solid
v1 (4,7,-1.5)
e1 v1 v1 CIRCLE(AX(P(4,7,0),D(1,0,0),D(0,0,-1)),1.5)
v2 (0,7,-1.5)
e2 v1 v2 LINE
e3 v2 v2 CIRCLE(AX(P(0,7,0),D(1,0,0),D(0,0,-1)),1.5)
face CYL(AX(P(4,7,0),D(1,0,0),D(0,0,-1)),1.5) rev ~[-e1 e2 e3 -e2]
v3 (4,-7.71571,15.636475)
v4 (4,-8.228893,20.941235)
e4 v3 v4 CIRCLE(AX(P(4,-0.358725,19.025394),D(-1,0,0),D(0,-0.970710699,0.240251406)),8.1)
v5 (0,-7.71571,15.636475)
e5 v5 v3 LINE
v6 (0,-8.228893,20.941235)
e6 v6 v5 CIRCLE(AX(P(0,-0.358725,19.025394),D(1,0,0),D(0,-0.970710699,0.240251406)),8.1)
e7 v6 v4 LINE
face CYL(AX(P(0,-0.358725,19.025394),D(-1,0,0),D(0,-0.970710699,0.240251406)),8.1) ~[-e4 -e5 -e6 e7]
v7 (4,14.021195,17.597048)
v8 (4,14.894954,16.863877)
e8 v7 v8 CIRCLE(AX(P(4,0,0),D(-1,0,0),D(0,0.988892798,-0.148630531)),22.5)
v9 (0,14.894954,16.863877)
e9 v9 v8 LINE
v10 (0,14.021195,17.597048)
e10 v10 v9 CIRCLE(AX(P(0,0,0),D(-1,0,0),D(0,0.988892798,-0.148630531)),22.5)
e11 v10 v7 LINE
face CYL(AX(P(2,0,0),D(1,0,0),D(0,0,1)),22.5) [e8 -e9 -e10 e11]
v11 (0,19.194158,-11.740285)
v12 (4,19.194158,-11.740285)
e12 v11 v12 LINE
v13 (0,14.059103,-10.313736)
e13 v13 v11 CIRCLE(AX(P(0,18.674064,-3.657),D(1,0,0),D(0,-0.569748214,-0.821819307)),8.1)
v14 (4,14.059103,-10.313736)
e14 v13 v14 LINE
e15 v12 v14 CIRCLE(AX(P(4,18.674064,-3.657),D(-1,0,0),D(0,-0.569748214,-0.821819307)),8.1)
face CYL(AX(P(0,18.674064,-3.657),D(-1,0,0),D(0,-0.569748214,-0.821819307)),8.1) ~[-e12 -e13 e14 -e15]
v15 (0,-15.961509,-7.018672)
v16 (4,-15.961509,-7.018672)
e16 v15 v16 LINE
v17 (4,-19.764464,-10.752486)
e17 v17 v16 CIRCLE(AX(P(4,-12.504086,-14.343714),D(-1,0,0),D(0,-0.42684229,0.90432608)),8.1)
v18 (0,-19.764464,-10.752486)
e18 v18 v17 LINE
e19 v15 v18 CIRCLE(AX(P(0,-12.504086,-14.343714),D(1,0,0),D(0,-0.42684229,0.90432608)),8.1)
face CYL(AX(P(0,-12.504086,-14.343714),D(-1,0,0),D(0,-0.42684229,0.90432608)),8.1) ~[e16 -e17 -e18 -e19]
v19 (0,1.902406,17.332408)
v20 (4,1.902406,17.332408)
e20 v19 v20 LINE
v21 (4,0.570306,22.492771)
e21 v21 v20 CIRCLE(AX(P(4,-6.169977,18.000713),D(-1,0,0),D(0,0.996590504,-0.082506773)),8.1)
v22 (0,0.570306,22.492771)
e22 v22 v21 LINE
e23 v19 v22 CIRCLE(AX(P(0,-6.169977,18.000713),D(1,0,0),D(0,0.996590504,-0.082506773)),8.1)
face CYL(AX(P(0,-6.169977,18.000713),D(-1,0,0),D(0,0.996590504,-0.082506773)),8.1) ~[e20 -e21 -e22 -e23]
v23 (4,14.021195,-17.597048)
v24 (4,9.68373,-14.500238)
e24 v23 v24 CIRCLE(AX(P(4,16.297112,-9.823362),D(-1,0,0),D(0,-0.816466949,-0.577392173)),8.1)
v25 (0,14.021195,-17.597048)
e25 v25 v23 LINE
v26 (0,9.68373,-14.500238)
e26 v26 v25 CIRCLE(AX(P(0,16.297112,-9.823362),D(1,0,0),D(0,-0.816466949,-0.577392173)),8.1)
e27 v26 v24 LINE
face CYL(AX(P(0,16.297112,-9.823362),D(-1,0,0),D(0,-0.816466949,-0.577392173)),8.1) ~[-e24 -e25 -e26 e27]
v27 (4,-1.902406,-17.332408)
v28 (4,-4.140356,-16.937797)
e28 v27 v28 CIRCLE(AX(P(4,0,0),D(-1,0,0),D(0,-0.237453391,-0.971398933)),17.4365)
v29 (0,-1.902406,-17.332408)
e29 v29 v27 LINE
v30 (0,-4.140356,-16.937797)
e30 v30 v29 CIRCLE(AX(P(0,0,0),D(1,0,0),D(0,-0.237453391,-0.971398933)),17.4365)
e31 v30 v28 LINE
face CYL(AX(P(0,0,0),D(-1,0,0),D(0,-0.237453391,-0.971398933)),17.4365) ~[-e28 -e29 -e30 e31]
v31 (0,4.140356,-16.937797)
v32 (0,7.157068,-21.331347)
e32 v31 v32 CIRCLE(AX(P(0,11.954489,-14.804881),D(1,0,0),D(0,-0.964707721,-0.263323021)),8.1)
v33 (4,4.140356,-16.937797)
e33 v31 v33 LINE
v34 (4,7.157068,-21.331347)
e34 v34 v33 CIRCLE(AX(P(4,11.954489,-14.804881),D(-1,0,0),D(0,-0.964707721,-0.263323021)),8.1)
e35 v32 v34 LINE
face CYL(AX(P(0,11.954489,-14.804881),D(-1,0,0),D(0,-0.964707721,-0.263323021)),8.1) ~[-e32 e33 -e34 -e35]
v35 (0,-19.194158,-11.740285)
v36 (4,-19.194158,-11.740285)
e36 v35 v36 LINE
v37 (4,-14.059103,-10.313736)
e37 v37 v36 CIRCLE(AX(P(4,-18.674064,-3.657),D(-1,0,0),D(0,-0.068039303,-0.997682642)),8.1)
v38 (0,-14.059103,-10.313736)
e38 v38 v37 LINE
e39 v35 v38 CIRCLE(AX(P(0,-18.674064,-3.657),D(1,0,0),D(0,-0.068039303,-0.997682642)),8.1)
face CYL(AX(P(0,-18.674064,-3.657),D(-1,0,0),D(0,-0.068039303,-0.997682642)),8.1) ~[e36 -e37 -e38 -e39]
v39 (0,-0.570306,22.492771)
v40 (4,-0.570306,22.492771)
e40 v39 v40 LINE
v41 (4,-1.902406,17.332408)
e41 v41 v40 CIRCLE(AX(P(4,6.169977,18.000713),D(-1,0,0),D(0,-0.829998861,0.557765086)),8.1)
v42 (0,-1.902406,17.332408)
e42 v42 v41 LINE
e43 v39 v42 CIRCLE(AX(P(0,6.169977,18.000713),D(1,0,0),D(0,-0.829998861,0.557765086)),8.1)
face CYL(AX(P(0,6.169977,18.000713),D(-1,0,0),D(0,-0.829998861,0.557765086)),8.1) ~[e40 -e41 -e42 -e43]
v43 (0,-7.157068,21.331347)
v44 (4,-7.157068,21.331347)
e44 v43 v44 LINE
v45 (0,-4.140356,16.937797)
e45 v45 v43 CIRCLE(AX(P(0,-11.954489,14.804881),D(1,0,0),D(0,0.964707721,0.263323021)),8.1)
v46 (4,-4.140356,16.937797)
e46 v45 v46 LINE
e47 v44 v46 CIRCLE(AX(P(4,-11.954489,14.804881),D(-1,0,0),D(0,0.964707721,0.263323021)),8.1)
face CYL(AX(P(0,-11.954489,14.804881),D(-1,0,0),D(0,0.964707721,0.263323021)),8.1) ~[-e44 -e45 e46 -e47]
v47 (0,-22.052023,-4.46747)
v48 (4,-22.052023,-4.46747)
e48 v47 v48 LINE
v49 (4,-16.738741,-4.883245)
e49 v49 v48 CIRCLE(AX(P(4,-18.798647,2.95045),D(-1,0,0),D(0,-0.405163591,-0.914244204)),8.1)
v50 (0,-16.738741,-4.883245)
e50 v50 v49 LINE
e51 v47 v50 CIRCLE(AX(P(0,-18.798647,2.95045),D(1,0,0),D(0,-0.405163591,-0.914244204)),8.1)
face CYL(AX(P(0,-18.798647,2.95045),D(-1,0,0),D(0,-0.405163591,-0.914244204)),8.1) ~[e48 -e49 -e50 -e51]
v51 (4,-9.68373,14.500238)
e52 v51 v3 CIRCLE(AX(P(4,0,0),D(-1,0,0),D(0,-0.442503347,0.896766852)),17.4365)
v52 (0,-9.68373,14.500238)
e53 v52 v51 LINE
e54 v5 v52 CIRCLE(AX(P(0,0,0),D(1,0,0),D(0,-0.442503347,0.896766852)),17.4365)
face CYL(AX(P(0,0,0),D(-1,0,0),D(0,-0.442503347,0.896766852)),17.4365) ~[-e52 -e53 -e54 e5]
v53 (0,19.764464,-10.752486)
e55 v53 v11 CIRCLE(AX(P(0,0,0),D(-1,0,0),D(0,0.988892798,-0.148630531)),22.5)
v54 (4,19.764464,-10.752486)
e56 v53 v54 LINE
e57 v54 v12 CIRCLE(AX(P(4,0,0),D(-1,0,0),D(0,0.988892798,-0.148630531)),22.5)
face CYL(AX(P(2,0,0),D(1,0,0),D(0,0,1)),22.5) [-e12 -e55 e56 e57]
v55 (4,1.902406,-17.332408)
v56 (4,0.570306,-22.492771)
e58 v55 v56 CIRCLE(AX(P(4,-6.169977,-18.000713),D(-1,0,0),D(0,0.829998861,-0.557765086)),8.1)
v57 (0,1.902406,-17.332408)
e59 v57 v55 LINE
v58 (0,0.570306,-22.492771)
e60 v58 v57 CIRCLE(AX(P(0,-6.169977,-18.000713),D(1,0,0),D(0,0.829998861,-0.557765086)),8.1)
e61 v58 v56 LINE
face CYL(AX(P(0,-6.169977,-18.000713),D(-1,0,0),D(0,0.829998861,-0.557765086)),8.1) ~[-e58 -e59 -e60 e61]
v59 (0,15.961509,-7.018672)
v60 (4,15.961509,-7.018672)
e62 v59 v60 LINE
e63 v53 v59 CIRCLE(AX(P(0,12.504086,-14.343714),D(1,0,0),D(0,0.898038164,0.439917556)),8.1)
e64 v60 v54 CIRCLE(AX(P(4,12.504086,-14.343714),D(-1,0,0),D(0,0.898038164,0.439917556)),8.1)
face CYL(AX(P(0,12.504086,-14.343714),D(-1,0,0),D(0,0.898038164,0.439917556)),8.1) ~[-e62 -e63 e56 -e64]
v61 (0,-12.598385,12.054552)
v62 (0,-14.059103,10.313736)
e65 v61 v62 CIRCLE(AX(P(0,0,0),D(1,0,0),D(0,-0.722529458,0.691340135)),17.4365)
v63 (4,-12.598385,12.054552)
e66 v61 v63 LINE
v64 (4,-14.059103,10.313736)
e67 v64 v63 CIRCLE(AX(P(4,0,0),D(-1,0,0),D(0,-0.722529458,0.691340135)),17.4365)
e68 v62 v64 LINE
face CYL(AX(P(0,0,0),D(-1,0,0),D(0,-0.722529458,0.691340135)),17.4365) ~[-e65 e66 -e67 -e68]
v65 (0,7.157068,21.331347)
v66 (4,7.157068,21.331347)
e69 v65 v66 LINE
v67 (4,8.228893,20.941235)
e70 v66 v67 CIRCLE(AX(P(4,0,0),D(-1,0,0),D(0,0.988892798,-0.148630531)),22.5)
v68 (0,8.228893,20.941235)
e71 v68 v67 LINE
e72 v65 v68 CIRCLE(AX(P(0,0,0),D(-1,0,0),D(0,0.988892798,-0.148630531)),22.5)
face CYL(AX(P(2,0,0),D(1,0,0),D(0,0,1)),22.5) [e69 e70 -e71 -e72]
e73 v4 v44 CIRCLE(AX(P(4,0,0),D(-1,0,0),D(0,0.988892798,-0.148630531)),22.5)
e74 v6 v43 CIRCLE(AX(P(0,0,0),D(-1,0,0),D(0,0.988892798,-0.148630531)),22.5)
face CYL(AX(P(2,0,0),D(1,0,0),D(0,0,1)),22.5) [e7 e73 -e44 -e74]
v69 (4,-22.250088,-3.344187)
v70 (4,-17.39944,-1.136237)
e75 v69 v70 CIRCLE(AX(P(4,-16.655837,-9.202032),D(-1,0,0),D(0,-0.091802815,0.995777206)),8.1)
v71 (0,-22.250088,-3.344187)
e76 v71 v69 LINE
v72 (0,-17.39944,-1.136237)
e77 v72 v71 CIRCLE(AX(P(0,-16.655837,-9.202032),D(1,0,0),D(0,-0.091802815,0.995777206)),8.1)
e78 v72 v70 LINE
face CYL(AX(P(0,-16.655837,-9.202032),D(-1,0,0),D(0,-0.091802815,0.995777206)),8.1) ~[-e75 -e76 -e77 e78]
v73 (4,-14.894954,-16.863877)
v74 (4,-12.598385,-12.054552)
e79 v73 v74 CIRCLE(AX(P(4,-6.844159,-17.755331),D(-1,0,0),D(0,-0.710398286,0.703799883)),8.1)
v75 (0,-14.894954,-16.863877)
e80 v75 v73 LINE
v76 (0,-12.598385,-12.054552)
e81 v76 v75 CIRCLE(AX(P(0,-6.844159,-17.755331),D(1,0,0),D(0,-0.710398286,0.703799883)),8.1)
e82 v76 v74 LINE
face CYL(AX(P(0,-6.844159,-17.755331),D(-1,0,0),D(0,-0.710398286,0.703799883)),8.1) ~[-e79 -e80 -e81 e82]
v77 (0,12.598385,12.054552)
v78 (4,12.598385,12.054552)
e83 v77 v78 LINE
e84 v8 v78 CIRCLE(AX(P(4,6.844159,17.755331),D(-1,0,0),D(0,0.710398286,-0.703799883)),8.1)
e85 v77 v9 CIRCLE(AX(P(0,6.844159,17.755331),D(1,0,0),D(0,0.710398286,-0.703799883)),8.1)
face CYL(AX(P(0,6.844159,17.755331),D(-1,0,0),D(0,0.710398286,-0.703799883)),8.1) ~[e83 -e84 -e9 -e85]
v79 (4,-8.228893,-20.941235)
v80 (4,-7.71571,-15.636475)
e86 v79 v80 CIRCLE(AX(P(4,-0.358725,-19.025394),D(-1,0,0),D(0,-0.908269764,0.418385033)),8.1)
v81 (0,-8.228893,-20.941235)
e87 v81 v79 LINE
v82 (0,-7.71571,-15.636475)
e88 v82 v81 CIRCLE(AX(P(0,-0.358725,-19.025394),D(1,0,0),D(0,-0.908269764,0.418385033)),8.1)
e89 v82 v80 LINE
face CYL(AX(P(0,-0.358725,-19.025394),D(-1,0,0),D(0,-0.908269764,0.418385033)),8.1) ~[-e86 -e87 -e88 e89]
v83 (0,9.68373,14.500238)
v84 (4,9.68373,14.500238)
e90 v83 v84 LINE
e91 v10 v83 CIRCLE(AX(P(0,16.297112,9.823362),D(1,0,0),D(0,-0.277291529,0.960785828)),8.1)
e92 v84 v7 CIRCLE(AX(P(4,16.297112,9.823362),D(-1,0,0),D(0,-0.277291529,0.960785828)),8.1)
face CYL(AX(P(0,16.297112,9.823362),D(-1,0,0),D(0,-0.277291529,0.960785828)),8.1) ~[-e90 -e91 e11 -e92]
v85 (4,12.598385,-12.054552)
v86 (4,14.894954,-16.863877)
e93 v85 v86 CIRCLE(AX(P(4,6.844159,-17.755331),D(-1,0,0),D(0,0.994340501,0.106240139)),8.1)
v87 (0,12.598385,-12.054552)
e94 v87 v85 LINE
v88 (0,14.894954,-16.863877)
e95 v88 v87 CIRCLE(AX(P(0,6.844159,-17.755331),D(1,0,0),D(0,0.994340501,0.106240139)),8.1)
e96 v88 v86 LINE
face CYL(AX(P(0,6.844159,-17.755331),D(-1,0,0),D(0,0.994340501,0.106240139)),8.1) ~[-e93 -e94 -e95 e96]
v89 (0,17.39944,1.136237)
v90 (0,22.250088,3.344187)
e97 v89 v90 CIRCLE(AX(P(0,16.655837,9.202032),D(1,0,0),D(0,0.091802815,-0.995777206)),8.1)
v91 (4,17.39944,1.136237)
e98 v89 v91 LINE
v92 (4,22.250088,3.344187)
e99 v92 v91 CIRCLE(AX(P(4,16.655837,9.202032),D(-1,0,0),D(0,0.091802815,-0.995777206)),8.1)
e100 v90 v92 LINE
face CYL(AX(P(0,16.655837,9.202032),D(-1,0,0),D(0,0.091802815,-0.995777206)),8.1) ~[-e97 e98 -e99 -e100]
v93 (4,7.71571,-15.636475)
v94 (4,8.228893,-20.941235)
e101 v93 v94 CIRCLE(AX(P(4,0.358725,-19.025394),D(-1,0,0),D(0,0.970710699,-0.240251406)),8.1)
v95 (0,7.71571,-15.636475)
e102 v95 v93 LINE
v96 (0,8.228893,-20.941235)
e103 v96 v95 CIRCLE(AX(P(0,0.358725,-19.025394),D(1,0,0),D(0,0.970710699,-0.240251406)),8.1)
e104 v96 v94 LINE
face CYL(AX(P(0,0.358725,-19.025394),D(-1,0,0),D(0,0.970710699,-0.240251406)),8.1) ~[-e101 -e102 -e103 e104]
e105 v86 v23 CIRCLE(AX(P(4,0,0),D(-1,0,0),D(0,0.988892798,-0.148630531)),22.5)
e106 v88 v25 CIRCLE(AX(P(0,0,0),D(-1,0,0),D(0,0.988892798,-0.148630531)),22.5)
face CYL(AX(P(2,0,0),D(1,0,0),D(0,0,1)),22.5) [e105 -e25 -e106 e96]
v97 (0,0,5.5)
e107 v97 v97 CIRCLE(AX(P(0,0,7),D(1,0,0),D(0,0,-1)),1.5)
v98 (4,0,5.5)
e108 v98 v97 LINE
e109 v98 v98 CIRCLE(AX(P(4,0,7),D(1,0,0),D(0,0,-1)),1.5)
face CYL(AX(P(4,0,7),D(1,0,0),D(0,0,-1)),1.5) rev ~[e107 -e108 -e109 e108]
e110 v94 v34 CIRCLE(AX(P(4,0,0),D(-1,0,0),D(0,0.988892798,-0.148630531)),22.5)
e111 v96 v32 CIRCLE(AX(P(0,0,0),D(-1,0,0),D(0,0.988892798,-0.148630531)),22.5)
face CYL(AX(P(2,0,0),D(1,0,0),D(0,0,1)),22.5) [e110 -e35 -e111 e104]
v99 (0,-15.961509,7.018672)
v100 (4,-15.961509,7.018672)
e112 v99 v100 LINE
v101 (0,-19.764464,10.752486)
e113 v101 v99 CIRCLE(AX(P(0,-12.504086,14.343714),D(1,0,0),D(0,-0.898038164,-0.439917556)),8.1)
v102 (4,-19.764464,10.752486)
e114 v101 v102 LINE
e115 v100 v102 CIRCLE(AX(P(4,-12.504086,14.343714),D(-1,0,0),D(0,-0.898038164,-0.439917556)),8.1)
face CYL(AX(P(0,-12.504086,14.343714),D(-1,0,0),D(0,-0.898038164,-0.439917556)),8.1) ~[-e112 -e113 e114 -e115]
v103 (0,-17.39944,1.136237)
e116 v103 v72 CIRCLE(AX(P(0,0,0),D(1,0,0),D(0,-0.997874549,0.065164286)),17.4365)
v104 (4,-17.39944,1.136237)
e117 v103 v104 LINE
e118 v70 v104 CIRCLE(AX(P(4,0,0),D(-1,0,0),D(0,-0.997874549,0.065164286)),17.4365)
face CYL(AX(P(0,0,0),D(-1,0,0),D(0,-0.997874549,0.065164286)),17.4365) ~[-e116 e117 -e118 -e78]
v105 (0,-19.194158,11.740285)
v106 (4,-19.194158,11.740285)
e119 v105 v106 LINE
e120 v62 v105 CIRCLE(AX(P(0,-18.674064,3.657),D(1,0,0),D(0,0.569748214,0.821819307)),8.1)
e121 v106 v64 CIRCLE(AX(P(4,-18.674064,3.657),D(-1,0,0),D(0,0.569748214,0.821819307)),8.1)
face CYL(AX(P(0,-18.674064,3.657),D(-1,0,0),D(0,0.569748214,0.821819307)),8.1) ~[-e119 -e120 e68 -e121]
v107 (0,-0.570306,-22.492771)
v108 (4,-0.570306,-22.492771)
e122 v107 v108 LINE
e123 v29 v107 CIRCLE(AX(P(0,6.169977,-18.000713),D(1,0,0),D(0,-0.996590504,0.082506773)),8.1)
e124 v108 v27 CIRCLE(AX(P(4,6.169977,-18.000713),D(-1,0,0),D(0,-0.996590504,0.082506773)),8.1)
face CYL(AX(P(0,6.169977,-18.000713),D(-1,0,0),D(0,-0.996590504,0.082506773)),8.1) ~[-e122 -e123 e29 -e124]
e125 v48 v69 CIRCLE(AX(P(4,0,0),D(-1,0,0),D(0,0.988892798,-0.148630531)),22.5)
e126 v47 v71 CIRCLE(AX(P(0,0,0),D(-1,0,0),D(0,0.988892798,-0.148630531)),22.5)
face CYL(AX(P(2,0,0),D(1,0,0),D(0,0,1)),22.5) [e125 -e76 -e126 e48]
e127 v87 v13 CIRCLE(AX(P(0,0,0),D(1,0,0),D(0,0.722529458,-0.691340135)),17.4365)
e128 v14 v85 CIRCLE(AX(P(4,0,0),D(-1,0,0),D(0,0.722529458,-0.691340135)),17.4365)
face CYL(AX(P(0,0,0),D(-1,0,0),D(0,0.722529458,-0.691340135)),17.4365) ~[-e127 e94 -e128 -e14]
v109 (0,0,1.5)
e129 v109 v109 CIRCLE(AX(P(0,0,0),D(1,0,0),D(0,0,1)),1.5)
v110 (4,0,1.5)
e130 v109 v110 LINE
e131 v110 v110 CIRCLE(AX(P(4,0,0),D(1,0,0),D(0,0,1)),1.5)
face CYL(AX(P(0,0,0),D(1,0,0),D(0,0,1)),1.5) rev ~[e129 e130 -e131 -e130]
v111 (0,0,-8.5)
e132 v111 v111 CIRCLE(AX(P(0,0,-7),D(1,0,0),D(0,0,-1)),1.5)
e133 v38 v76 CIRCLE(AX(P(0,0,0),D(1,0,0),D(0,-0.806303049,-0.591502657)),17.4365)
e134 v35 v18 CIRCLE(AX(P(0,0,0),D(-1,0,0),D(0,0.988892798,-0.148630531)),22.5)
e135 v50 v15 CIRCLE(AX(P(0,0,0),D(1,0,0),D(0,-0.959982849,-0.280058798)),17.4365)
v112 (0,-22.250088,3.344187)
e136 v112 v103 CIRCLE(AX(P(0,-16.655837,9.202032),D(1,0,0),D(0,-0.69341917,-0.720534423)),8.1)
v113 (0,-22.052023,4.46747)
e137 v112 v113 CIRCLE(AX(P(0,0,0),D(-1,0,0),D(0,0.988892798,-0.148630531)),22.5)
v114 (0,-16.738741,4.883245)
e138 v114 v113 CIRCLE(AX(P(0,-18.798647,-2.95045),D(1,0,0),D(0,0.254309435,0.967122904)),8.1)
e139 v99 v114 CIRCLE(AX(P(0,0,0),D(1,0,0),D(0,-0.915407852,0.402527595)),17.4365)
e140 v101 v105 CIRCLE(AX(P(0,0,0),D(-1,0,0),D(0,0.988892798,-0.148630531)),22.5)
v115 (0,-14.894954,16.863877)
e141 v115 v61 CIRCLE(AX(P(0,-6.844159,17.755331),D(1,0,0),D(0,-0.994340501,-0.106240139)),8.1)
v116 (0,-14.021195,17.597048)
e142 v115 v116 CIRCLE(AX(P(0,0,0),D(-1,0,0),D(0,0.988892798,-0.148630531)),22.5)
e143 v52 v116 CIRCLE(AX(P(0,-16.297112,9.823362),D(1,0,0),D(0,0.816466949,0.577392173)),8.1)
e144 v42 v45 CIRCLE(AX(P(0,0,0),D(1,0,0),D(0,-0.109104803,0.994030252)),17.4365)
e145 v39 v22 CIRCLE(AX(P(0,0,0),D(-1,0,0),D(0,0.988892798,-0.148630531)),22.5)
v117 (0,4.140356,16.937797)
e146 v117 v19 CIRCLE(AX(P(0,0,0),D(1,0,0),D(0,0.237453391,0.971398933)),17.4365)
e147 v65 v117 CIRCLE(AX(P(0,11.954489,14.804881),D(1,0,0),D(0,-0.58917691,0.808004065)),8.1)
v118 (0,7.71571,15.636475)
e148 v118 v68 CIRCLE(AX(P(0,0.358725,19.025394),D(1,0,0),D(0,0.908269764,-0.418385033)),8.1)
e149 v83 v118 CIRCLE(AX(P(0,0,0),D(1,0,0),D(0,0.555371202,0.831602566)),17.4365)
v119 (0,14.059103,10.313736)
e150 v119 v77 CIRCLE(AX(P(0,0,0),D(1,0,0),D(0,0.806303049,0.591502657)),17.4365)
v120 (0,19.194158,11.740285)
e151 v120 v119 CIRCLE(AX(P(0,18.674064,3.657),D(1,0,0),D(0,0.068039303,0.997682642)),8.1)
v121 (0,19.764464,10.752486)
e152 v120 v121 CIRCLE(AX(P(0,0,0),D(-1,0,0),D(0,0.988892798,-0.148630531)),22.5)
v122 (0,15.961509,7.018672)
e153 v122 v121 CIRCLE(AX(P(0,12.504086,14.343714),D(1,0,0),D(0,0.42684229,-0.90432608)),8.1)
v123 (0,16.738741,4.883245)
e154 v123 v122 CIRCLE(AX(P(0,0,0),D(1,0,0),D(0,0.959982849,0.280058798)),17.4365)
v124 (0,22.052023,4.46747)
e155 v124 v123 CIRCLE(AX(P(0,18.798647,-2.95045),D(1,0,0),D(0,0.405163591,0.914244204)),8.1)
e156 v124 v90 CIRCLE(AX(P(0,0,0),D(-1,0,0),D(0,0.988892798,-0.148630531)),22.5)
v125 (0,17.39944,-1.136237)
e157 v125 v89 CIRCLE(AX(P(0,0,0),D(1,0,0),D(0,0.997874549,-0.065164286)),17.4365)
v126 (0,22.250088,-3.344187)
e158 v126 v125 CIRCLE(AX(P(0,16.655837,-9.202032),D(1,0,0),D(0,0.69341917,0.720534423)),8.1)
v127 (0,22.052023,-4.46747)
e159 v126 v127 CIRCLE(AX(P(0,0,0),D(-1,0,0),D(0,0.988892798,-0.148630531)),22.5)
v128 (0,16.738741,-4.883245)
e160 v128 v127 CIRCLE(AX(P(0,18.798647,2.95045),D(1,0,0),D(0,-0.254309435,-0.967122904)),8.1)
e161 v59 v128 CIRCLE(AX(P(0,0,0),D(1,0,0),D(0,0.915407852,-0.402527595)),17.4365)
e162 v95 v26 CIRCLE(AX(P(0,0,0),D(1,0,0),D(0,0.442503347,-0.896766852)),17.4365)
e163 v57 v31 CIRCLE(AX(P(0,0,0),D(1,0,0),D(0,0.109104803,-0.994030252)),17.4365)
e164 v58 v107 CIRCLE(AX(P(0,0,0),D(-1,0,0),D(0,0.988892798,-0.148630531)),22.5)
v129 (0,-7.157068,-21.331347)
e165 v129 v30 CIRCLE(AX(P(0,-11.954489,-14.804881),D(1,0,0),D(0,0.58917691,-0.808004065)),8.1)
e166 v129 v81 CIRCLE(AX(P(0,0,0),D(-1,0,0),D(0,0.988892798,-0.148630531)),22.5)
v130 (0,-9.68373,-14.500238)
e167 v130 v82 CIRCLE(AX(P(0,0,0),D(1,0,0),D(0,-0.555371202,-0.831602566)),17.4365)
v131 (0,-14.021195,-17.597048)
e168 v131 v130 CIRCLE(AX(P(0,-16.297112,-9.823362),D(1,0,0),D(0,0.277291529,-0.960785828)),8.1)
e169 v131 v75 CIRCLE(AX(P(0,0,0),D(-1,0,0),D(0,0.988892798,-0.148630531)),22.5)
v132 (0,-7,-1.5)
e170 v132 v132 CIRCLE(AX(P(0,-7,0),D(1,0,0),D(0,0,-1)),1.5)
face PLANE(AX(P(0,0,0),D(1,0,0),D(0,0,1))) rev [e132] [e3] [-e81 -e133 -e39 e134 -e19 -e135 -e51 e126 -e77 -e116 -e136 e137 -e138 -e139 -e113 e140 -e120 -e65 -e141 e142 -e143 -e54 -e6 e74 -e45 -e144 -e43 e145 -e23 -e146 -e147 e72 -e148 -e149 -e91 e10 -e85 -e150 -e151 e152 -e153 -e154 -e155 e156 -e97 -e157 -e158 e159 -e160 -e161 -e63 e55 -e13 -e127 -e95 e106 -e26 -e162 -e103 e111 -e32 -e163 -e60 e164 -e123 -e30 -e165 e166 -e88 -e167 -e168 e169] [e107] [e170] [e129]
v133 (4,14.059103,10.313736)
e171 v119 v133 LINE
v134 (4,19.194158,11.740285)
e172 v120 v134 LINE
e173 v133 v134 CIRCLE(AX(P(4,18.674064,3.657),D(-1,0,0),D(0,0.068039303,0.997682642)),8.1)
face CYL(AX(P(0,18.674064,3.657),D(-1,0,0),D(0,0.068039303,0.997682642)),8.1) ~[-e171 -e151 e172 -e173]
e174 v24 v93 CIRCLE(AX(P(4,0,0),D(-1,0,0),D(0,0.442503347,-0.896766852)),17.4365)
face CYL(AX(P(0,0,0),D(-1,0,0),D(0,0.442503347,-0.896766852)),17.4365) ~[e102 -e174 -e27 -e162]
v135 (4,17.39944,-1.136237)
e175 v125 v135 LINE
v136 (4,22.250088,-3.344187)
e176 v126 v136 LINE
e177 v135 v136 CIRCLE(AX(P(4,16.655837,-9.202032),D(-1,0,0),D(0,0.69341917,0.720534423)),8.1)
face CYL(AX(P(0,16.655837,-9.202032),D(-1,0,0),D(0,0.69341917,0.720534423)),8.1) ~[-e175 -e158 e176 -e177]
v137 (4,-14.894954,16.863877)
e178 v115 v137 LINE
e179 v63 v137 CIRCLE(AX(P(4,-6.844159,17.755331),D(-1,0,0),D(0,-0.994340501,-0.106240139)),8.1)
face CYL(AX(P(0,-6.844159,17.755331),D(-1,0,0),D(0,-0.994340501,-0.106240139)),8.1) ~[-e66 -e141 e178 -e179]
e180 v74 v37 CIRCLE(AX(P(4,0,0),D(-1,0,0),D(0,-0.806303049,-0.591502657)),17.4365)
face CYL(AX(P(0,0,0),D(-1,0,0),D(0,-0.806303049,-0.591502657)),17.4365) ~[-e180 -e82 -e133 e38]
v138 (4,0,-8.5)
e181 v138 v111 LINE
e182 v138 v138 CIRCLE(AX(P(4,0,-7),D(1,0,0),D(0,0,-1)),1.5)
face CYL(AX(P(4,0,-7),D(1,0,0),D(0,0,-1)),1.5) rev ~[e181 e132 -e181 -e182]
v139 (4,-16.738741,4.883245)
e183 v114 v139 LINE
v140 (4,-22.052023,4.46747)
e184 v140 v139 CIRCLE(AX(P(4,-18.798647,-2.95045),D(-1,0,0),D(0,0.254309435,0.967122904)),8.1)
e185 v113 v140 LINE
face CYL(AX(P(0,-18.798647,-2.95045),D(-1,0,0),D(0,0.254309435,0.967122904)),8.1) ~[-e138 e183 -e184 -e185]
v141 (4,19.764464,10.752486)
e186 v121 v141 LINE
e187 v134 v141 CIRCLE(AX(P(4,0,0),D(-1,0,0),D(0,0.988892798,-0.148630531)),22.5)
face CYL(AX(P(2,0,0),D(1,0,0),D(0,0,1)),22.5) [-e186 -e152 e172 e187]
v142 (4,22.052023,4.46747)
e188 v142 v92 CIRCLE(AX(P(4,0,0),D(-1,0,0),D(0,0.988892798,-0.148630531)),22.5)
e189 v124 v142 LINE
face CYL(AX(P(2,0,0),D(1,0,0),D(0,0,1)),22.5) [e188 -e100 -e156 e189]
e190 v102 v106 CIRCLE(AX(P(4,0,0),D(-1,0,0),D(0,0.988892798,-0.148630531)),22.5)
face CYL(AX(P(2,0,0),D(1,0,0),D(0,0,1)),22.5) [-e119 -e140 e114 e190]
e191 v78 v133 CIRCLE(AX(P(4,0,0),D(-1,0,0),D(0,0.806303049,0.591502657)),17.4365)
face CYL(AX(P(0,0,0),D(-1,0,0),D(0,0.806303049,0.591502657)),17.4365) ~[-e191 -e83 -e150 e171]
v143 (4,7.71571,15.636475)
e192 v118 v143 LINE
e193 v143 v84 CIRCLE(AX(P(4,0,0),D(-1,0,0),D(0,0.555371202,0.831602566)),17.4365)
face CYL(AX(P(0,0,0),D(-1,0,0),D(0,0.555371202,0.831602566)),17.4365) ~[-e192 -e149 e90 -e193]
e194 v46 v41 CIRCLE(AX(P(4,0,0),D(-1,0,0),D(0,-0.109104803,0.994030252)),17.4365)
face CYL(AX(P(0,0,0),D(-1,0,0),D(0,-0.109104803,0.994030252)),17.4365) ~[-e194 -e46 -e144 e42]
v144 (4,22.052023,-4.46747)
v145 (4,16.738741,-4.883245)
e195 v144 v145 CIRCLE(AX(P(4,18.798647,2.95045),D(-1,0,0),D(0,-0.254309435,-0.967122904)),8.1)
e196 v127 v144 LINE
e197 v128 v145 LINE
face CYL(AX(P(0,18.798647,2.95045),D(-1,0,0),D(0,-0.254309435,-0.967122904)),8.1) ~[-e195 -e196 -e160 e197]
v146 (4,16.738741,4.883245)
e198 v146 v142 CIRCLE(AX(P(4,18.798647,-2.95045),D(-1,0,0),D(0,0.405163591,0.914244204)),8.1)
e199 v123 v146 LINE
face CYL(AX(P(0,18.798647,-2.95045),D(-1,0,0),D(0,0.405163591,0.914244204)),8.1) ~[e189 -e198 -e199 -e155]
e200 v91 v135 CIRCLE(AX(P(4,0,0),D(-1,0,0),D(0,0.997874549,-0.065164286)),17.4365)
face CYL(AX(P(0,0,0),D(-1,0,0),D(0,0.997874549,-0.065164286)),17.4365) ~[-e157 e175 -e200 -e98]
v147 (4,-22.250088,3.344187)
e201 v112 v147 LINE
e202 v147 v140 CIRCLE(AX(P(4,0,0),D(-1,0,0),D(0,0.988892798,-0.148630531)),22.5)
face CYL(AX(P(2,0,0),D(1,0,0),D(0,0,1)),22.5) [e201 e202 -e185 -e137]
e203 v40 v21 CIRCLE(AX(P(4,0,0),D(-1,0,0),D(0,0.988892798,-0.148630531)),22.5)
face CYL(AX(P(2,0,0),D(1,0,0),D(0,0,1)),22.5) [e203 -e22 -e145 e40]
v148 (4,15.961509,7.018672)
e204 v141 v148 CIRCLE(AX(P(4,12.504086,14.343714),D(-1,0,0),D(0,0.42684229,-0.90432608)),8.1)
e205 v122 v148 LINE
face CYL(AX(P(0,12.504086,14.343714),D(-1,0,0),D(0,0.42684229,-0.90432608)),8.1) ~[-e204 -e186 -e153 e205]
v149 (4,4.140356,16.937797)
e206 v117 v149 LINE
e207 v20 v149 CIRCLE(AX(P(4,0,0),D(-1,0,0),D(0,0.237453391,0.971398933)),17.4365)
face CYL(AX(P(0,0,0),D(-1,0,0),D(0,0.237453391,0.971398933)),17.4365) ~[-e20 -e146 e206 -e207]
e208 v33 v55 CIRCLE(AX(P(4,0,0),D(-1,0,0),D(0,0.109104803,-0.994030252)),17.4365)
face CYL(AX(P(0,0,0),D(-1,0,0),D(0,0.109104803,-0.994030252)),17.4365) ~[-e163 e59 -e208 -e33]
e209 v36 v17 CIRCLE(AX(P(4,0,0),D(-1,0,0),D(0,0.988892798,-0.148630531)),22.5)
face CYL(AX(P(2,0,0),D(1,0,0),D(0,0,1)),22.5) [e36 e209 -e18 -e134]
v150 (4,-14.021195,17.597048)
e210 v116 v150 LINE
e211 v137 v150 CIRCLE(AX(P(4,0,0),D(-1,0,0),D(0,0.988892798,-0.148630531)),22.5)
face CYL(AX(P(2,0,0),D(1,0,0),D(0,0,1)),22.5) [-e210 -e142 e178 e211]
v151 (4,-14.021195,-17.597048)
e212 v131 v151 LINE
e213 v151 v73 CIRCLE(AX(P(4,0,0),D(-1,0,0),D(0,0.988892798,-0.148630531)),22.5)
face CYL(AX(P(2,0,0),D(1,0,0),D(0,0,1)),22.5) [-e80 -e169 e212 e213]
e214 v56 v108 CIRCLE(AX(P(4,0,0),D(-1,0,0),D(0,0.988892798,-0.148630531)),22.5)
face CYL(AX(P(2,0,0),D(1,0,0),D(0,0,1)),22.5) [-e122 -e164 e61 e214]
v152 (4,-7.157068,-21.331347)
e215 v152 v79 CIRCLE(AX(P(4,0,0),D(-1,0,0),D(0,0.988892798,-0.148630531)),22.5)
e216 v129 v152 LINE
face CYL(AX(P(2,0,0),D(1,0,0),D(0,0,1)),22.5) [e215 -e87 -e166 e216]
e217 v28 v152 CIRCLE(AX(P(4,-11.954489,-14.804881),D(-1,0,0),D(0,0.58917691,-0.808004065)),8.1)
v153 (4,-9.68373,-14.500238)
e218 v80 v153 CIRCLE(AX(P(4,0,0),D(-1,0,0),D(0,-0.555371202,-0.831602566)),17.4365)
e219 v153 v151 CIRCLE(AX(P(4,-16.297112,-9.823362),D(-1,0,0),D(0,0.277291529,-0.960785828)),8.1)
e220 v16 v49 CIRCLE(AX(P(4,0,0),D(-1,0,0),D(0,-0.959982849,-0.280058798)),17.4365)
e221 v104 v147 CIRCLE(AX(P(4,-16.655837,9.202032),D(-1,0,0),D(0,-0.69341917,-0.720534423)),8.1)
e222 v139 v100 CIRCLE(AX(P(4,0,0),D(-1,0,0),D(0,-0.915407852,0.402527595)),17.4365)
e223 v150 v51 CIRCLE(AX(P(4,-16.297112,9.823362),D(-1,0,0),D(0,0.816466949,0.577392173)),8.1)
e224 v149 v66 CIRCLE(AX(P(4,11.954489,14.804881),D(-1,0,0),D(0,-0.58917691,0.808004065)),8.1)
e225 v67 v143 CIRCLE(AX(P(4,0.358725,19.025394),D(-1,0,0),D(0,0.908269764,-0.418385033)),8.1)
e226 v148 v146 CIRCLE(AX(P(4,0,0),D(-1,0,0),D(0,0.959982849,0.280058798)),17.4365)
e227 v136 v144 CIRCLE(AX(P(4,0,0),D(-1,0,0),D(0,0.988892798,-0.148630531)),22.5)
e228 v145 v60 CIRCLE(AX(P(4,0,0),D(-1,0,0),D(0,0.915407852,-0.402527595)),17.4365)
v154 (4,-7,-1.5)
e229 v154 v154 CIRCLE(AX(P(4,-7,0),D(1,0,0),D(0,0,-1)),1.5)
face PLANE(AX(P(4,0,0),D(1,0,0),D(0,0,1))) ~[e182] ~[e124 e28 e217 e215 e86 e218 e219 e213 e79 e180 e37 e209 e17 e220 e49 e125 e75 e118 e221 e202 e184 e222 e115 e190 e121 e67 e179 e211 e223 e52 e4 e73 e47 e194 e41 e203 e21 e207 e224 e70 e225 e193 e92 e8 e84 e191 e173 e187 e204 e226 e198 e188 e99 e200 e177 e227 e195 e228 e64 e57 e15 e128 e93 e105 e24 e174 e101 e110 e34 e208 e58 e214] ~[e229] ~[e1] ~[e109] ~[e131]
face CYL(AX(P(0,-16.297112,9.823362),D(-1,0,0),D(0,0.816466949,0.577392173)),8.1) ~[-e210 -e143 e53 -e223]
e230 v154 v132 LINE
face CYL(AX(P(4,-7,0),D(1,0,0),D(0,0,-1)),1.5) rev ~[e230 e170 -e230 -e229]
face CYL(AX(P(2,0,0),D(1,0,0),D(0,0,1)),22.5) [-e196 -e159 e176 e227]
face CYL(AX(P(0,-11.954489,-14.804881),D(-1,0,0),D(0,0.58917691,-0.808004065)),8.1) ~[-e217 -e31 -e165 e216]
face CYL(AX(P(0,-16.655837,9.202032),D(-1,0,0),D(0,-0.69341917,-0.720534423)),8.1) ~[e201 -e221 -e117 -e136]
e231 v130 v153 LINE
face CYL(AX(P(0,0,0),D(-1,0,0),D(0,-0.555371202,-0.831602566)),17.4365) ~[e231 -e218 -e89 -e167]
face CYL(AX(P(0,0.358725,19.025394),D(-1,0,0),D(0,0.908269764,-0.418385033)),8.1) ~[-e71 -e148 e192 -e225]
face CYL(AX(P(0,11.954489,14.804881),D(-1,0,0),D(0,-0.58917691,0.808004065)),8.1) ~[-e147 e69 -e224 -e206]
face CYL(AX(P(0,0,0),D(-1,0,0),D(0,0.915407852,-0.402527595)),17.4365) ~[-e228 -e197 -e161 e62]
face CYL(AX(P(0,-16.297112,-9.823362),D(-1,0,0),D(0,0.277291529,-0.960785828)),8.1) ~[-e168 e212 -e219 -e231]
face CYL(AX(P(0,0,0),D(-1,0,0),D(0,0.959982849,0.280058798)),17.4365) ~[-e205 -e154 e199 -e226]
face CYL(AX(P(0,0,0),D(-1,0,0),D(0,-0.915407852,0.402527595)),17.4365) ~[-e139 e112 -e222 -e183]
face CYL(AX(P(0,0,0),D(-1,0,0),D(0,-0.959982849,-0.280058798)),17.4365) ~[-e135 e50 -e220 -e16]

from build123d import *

# Parameters (mm, degrees)
BASPROSKE_W         = 4
BASPROSKE_H         = 22.5
TOOTHCUT_DEPTH      = 33.070235422
TEETHCUTS_COUNT     = 18
TEETHCUTS_ANGLE     = 340
BORSKE_R            = 1.5
BORE_DEPTH          = 50.0000508
SKETCH_1_R          = 1.5
CUT_EXTRUDE_1_DEPTH = 32.895398001


with BuildPart() as part:
    # BasProSke → Base-Revolve (revolve)
    with BuildSketch(Plane(origin=(0, 0, 0), x_dir=(1, 0, 0), z_dir=(0, 1, 0)), mode=Mode.PRIVATE) as base_revolve_sk:
        with Locations((2, 11.25)):
            Rectangle(BASPROSKE_W, BASPROSKE_H)
    revolve(base_revolve_sk.sketch.rotate(Axis((-10, 0, 0), (1, 0, 0)), 180), axis=Axis((-10, 0, 0), (1, 0, 0)))

    # TooCutSke → ToothCut (cut, through all)
    with BuildSketch(Plane(origin=(0, 0, 0), x_dir=(0, 0, -1), z_dir=(1, 0, 0))):
        with BuildLine():
            ThreePointArc((1.136237076, 17.399439576), (0, 17.4365), (-1.136237076, 17.399439576))
            ThreePointArc((-1.136237076, 17.399439576), (-1.836299497, 20.025700007), (-3.36570362, 22.272532059))
            ThreePointArc((-3.36570362, 22.272532059), (0, 22.5254), (3.36570362, 22.272532059))
            ThreePointArc((3.36570362, 22.272532059), (1.836299497, 20.025700007), (1.136237076, 17.399439576))
        make_face()
    toothcut = extrude(amount=TOOTHCUT_DEPTH, mode=Mode.SUBTRACT)

    # TeethCuts: ToothCut ×18 about axis
    teethcuts_axis = Axis((-10, 0, 0), (1, 0, 0))
    for i in range(1, TEETHCUTS_COUNT):
        add(toothcut.rotate(teethcuts_axis, i * TEETHCUTS_ANGLE / (TEETHCUTS_COUNT - 1)), mode=Mode.SUBTRACT)

    # BorSke → Bore (cut, symmetric)
    with BuildSketch(Plane(origin=(0, 0, 0), x_dir=(0, 0, -1), z_dir=(1, 0, 0))):
        with Locations(Location((0, 0, 0), (0, 0, 180))):
            Circle(BORSKE_R)
    extrude(amount=BORE_DEPTH, both=True, mode=Mode.SUBTRACT)

    # 草图1 → 切除-拉伸1 (cut, through all)
    with BuildSketch(Plane(origin=(4, 0, 0), x_dir=(0, 0, -1), z_dir=(1, 0, 0))):
        with Locations((0, 7)):
            Circle(SKETCH_1_R)
        with Locations((7, 0)):
            Circle(SKETCH_1_R)
        with Locations((-7, 0)):
            Circle(SKETCH_1_R)
        with Locations((0, -7)):
            Circle(SKETCH_1_R)
    extrude(amount=-CUT_EXTRUDE_1_DEPTH, mode=Mode.SUBTRACT)


solid = part.part
